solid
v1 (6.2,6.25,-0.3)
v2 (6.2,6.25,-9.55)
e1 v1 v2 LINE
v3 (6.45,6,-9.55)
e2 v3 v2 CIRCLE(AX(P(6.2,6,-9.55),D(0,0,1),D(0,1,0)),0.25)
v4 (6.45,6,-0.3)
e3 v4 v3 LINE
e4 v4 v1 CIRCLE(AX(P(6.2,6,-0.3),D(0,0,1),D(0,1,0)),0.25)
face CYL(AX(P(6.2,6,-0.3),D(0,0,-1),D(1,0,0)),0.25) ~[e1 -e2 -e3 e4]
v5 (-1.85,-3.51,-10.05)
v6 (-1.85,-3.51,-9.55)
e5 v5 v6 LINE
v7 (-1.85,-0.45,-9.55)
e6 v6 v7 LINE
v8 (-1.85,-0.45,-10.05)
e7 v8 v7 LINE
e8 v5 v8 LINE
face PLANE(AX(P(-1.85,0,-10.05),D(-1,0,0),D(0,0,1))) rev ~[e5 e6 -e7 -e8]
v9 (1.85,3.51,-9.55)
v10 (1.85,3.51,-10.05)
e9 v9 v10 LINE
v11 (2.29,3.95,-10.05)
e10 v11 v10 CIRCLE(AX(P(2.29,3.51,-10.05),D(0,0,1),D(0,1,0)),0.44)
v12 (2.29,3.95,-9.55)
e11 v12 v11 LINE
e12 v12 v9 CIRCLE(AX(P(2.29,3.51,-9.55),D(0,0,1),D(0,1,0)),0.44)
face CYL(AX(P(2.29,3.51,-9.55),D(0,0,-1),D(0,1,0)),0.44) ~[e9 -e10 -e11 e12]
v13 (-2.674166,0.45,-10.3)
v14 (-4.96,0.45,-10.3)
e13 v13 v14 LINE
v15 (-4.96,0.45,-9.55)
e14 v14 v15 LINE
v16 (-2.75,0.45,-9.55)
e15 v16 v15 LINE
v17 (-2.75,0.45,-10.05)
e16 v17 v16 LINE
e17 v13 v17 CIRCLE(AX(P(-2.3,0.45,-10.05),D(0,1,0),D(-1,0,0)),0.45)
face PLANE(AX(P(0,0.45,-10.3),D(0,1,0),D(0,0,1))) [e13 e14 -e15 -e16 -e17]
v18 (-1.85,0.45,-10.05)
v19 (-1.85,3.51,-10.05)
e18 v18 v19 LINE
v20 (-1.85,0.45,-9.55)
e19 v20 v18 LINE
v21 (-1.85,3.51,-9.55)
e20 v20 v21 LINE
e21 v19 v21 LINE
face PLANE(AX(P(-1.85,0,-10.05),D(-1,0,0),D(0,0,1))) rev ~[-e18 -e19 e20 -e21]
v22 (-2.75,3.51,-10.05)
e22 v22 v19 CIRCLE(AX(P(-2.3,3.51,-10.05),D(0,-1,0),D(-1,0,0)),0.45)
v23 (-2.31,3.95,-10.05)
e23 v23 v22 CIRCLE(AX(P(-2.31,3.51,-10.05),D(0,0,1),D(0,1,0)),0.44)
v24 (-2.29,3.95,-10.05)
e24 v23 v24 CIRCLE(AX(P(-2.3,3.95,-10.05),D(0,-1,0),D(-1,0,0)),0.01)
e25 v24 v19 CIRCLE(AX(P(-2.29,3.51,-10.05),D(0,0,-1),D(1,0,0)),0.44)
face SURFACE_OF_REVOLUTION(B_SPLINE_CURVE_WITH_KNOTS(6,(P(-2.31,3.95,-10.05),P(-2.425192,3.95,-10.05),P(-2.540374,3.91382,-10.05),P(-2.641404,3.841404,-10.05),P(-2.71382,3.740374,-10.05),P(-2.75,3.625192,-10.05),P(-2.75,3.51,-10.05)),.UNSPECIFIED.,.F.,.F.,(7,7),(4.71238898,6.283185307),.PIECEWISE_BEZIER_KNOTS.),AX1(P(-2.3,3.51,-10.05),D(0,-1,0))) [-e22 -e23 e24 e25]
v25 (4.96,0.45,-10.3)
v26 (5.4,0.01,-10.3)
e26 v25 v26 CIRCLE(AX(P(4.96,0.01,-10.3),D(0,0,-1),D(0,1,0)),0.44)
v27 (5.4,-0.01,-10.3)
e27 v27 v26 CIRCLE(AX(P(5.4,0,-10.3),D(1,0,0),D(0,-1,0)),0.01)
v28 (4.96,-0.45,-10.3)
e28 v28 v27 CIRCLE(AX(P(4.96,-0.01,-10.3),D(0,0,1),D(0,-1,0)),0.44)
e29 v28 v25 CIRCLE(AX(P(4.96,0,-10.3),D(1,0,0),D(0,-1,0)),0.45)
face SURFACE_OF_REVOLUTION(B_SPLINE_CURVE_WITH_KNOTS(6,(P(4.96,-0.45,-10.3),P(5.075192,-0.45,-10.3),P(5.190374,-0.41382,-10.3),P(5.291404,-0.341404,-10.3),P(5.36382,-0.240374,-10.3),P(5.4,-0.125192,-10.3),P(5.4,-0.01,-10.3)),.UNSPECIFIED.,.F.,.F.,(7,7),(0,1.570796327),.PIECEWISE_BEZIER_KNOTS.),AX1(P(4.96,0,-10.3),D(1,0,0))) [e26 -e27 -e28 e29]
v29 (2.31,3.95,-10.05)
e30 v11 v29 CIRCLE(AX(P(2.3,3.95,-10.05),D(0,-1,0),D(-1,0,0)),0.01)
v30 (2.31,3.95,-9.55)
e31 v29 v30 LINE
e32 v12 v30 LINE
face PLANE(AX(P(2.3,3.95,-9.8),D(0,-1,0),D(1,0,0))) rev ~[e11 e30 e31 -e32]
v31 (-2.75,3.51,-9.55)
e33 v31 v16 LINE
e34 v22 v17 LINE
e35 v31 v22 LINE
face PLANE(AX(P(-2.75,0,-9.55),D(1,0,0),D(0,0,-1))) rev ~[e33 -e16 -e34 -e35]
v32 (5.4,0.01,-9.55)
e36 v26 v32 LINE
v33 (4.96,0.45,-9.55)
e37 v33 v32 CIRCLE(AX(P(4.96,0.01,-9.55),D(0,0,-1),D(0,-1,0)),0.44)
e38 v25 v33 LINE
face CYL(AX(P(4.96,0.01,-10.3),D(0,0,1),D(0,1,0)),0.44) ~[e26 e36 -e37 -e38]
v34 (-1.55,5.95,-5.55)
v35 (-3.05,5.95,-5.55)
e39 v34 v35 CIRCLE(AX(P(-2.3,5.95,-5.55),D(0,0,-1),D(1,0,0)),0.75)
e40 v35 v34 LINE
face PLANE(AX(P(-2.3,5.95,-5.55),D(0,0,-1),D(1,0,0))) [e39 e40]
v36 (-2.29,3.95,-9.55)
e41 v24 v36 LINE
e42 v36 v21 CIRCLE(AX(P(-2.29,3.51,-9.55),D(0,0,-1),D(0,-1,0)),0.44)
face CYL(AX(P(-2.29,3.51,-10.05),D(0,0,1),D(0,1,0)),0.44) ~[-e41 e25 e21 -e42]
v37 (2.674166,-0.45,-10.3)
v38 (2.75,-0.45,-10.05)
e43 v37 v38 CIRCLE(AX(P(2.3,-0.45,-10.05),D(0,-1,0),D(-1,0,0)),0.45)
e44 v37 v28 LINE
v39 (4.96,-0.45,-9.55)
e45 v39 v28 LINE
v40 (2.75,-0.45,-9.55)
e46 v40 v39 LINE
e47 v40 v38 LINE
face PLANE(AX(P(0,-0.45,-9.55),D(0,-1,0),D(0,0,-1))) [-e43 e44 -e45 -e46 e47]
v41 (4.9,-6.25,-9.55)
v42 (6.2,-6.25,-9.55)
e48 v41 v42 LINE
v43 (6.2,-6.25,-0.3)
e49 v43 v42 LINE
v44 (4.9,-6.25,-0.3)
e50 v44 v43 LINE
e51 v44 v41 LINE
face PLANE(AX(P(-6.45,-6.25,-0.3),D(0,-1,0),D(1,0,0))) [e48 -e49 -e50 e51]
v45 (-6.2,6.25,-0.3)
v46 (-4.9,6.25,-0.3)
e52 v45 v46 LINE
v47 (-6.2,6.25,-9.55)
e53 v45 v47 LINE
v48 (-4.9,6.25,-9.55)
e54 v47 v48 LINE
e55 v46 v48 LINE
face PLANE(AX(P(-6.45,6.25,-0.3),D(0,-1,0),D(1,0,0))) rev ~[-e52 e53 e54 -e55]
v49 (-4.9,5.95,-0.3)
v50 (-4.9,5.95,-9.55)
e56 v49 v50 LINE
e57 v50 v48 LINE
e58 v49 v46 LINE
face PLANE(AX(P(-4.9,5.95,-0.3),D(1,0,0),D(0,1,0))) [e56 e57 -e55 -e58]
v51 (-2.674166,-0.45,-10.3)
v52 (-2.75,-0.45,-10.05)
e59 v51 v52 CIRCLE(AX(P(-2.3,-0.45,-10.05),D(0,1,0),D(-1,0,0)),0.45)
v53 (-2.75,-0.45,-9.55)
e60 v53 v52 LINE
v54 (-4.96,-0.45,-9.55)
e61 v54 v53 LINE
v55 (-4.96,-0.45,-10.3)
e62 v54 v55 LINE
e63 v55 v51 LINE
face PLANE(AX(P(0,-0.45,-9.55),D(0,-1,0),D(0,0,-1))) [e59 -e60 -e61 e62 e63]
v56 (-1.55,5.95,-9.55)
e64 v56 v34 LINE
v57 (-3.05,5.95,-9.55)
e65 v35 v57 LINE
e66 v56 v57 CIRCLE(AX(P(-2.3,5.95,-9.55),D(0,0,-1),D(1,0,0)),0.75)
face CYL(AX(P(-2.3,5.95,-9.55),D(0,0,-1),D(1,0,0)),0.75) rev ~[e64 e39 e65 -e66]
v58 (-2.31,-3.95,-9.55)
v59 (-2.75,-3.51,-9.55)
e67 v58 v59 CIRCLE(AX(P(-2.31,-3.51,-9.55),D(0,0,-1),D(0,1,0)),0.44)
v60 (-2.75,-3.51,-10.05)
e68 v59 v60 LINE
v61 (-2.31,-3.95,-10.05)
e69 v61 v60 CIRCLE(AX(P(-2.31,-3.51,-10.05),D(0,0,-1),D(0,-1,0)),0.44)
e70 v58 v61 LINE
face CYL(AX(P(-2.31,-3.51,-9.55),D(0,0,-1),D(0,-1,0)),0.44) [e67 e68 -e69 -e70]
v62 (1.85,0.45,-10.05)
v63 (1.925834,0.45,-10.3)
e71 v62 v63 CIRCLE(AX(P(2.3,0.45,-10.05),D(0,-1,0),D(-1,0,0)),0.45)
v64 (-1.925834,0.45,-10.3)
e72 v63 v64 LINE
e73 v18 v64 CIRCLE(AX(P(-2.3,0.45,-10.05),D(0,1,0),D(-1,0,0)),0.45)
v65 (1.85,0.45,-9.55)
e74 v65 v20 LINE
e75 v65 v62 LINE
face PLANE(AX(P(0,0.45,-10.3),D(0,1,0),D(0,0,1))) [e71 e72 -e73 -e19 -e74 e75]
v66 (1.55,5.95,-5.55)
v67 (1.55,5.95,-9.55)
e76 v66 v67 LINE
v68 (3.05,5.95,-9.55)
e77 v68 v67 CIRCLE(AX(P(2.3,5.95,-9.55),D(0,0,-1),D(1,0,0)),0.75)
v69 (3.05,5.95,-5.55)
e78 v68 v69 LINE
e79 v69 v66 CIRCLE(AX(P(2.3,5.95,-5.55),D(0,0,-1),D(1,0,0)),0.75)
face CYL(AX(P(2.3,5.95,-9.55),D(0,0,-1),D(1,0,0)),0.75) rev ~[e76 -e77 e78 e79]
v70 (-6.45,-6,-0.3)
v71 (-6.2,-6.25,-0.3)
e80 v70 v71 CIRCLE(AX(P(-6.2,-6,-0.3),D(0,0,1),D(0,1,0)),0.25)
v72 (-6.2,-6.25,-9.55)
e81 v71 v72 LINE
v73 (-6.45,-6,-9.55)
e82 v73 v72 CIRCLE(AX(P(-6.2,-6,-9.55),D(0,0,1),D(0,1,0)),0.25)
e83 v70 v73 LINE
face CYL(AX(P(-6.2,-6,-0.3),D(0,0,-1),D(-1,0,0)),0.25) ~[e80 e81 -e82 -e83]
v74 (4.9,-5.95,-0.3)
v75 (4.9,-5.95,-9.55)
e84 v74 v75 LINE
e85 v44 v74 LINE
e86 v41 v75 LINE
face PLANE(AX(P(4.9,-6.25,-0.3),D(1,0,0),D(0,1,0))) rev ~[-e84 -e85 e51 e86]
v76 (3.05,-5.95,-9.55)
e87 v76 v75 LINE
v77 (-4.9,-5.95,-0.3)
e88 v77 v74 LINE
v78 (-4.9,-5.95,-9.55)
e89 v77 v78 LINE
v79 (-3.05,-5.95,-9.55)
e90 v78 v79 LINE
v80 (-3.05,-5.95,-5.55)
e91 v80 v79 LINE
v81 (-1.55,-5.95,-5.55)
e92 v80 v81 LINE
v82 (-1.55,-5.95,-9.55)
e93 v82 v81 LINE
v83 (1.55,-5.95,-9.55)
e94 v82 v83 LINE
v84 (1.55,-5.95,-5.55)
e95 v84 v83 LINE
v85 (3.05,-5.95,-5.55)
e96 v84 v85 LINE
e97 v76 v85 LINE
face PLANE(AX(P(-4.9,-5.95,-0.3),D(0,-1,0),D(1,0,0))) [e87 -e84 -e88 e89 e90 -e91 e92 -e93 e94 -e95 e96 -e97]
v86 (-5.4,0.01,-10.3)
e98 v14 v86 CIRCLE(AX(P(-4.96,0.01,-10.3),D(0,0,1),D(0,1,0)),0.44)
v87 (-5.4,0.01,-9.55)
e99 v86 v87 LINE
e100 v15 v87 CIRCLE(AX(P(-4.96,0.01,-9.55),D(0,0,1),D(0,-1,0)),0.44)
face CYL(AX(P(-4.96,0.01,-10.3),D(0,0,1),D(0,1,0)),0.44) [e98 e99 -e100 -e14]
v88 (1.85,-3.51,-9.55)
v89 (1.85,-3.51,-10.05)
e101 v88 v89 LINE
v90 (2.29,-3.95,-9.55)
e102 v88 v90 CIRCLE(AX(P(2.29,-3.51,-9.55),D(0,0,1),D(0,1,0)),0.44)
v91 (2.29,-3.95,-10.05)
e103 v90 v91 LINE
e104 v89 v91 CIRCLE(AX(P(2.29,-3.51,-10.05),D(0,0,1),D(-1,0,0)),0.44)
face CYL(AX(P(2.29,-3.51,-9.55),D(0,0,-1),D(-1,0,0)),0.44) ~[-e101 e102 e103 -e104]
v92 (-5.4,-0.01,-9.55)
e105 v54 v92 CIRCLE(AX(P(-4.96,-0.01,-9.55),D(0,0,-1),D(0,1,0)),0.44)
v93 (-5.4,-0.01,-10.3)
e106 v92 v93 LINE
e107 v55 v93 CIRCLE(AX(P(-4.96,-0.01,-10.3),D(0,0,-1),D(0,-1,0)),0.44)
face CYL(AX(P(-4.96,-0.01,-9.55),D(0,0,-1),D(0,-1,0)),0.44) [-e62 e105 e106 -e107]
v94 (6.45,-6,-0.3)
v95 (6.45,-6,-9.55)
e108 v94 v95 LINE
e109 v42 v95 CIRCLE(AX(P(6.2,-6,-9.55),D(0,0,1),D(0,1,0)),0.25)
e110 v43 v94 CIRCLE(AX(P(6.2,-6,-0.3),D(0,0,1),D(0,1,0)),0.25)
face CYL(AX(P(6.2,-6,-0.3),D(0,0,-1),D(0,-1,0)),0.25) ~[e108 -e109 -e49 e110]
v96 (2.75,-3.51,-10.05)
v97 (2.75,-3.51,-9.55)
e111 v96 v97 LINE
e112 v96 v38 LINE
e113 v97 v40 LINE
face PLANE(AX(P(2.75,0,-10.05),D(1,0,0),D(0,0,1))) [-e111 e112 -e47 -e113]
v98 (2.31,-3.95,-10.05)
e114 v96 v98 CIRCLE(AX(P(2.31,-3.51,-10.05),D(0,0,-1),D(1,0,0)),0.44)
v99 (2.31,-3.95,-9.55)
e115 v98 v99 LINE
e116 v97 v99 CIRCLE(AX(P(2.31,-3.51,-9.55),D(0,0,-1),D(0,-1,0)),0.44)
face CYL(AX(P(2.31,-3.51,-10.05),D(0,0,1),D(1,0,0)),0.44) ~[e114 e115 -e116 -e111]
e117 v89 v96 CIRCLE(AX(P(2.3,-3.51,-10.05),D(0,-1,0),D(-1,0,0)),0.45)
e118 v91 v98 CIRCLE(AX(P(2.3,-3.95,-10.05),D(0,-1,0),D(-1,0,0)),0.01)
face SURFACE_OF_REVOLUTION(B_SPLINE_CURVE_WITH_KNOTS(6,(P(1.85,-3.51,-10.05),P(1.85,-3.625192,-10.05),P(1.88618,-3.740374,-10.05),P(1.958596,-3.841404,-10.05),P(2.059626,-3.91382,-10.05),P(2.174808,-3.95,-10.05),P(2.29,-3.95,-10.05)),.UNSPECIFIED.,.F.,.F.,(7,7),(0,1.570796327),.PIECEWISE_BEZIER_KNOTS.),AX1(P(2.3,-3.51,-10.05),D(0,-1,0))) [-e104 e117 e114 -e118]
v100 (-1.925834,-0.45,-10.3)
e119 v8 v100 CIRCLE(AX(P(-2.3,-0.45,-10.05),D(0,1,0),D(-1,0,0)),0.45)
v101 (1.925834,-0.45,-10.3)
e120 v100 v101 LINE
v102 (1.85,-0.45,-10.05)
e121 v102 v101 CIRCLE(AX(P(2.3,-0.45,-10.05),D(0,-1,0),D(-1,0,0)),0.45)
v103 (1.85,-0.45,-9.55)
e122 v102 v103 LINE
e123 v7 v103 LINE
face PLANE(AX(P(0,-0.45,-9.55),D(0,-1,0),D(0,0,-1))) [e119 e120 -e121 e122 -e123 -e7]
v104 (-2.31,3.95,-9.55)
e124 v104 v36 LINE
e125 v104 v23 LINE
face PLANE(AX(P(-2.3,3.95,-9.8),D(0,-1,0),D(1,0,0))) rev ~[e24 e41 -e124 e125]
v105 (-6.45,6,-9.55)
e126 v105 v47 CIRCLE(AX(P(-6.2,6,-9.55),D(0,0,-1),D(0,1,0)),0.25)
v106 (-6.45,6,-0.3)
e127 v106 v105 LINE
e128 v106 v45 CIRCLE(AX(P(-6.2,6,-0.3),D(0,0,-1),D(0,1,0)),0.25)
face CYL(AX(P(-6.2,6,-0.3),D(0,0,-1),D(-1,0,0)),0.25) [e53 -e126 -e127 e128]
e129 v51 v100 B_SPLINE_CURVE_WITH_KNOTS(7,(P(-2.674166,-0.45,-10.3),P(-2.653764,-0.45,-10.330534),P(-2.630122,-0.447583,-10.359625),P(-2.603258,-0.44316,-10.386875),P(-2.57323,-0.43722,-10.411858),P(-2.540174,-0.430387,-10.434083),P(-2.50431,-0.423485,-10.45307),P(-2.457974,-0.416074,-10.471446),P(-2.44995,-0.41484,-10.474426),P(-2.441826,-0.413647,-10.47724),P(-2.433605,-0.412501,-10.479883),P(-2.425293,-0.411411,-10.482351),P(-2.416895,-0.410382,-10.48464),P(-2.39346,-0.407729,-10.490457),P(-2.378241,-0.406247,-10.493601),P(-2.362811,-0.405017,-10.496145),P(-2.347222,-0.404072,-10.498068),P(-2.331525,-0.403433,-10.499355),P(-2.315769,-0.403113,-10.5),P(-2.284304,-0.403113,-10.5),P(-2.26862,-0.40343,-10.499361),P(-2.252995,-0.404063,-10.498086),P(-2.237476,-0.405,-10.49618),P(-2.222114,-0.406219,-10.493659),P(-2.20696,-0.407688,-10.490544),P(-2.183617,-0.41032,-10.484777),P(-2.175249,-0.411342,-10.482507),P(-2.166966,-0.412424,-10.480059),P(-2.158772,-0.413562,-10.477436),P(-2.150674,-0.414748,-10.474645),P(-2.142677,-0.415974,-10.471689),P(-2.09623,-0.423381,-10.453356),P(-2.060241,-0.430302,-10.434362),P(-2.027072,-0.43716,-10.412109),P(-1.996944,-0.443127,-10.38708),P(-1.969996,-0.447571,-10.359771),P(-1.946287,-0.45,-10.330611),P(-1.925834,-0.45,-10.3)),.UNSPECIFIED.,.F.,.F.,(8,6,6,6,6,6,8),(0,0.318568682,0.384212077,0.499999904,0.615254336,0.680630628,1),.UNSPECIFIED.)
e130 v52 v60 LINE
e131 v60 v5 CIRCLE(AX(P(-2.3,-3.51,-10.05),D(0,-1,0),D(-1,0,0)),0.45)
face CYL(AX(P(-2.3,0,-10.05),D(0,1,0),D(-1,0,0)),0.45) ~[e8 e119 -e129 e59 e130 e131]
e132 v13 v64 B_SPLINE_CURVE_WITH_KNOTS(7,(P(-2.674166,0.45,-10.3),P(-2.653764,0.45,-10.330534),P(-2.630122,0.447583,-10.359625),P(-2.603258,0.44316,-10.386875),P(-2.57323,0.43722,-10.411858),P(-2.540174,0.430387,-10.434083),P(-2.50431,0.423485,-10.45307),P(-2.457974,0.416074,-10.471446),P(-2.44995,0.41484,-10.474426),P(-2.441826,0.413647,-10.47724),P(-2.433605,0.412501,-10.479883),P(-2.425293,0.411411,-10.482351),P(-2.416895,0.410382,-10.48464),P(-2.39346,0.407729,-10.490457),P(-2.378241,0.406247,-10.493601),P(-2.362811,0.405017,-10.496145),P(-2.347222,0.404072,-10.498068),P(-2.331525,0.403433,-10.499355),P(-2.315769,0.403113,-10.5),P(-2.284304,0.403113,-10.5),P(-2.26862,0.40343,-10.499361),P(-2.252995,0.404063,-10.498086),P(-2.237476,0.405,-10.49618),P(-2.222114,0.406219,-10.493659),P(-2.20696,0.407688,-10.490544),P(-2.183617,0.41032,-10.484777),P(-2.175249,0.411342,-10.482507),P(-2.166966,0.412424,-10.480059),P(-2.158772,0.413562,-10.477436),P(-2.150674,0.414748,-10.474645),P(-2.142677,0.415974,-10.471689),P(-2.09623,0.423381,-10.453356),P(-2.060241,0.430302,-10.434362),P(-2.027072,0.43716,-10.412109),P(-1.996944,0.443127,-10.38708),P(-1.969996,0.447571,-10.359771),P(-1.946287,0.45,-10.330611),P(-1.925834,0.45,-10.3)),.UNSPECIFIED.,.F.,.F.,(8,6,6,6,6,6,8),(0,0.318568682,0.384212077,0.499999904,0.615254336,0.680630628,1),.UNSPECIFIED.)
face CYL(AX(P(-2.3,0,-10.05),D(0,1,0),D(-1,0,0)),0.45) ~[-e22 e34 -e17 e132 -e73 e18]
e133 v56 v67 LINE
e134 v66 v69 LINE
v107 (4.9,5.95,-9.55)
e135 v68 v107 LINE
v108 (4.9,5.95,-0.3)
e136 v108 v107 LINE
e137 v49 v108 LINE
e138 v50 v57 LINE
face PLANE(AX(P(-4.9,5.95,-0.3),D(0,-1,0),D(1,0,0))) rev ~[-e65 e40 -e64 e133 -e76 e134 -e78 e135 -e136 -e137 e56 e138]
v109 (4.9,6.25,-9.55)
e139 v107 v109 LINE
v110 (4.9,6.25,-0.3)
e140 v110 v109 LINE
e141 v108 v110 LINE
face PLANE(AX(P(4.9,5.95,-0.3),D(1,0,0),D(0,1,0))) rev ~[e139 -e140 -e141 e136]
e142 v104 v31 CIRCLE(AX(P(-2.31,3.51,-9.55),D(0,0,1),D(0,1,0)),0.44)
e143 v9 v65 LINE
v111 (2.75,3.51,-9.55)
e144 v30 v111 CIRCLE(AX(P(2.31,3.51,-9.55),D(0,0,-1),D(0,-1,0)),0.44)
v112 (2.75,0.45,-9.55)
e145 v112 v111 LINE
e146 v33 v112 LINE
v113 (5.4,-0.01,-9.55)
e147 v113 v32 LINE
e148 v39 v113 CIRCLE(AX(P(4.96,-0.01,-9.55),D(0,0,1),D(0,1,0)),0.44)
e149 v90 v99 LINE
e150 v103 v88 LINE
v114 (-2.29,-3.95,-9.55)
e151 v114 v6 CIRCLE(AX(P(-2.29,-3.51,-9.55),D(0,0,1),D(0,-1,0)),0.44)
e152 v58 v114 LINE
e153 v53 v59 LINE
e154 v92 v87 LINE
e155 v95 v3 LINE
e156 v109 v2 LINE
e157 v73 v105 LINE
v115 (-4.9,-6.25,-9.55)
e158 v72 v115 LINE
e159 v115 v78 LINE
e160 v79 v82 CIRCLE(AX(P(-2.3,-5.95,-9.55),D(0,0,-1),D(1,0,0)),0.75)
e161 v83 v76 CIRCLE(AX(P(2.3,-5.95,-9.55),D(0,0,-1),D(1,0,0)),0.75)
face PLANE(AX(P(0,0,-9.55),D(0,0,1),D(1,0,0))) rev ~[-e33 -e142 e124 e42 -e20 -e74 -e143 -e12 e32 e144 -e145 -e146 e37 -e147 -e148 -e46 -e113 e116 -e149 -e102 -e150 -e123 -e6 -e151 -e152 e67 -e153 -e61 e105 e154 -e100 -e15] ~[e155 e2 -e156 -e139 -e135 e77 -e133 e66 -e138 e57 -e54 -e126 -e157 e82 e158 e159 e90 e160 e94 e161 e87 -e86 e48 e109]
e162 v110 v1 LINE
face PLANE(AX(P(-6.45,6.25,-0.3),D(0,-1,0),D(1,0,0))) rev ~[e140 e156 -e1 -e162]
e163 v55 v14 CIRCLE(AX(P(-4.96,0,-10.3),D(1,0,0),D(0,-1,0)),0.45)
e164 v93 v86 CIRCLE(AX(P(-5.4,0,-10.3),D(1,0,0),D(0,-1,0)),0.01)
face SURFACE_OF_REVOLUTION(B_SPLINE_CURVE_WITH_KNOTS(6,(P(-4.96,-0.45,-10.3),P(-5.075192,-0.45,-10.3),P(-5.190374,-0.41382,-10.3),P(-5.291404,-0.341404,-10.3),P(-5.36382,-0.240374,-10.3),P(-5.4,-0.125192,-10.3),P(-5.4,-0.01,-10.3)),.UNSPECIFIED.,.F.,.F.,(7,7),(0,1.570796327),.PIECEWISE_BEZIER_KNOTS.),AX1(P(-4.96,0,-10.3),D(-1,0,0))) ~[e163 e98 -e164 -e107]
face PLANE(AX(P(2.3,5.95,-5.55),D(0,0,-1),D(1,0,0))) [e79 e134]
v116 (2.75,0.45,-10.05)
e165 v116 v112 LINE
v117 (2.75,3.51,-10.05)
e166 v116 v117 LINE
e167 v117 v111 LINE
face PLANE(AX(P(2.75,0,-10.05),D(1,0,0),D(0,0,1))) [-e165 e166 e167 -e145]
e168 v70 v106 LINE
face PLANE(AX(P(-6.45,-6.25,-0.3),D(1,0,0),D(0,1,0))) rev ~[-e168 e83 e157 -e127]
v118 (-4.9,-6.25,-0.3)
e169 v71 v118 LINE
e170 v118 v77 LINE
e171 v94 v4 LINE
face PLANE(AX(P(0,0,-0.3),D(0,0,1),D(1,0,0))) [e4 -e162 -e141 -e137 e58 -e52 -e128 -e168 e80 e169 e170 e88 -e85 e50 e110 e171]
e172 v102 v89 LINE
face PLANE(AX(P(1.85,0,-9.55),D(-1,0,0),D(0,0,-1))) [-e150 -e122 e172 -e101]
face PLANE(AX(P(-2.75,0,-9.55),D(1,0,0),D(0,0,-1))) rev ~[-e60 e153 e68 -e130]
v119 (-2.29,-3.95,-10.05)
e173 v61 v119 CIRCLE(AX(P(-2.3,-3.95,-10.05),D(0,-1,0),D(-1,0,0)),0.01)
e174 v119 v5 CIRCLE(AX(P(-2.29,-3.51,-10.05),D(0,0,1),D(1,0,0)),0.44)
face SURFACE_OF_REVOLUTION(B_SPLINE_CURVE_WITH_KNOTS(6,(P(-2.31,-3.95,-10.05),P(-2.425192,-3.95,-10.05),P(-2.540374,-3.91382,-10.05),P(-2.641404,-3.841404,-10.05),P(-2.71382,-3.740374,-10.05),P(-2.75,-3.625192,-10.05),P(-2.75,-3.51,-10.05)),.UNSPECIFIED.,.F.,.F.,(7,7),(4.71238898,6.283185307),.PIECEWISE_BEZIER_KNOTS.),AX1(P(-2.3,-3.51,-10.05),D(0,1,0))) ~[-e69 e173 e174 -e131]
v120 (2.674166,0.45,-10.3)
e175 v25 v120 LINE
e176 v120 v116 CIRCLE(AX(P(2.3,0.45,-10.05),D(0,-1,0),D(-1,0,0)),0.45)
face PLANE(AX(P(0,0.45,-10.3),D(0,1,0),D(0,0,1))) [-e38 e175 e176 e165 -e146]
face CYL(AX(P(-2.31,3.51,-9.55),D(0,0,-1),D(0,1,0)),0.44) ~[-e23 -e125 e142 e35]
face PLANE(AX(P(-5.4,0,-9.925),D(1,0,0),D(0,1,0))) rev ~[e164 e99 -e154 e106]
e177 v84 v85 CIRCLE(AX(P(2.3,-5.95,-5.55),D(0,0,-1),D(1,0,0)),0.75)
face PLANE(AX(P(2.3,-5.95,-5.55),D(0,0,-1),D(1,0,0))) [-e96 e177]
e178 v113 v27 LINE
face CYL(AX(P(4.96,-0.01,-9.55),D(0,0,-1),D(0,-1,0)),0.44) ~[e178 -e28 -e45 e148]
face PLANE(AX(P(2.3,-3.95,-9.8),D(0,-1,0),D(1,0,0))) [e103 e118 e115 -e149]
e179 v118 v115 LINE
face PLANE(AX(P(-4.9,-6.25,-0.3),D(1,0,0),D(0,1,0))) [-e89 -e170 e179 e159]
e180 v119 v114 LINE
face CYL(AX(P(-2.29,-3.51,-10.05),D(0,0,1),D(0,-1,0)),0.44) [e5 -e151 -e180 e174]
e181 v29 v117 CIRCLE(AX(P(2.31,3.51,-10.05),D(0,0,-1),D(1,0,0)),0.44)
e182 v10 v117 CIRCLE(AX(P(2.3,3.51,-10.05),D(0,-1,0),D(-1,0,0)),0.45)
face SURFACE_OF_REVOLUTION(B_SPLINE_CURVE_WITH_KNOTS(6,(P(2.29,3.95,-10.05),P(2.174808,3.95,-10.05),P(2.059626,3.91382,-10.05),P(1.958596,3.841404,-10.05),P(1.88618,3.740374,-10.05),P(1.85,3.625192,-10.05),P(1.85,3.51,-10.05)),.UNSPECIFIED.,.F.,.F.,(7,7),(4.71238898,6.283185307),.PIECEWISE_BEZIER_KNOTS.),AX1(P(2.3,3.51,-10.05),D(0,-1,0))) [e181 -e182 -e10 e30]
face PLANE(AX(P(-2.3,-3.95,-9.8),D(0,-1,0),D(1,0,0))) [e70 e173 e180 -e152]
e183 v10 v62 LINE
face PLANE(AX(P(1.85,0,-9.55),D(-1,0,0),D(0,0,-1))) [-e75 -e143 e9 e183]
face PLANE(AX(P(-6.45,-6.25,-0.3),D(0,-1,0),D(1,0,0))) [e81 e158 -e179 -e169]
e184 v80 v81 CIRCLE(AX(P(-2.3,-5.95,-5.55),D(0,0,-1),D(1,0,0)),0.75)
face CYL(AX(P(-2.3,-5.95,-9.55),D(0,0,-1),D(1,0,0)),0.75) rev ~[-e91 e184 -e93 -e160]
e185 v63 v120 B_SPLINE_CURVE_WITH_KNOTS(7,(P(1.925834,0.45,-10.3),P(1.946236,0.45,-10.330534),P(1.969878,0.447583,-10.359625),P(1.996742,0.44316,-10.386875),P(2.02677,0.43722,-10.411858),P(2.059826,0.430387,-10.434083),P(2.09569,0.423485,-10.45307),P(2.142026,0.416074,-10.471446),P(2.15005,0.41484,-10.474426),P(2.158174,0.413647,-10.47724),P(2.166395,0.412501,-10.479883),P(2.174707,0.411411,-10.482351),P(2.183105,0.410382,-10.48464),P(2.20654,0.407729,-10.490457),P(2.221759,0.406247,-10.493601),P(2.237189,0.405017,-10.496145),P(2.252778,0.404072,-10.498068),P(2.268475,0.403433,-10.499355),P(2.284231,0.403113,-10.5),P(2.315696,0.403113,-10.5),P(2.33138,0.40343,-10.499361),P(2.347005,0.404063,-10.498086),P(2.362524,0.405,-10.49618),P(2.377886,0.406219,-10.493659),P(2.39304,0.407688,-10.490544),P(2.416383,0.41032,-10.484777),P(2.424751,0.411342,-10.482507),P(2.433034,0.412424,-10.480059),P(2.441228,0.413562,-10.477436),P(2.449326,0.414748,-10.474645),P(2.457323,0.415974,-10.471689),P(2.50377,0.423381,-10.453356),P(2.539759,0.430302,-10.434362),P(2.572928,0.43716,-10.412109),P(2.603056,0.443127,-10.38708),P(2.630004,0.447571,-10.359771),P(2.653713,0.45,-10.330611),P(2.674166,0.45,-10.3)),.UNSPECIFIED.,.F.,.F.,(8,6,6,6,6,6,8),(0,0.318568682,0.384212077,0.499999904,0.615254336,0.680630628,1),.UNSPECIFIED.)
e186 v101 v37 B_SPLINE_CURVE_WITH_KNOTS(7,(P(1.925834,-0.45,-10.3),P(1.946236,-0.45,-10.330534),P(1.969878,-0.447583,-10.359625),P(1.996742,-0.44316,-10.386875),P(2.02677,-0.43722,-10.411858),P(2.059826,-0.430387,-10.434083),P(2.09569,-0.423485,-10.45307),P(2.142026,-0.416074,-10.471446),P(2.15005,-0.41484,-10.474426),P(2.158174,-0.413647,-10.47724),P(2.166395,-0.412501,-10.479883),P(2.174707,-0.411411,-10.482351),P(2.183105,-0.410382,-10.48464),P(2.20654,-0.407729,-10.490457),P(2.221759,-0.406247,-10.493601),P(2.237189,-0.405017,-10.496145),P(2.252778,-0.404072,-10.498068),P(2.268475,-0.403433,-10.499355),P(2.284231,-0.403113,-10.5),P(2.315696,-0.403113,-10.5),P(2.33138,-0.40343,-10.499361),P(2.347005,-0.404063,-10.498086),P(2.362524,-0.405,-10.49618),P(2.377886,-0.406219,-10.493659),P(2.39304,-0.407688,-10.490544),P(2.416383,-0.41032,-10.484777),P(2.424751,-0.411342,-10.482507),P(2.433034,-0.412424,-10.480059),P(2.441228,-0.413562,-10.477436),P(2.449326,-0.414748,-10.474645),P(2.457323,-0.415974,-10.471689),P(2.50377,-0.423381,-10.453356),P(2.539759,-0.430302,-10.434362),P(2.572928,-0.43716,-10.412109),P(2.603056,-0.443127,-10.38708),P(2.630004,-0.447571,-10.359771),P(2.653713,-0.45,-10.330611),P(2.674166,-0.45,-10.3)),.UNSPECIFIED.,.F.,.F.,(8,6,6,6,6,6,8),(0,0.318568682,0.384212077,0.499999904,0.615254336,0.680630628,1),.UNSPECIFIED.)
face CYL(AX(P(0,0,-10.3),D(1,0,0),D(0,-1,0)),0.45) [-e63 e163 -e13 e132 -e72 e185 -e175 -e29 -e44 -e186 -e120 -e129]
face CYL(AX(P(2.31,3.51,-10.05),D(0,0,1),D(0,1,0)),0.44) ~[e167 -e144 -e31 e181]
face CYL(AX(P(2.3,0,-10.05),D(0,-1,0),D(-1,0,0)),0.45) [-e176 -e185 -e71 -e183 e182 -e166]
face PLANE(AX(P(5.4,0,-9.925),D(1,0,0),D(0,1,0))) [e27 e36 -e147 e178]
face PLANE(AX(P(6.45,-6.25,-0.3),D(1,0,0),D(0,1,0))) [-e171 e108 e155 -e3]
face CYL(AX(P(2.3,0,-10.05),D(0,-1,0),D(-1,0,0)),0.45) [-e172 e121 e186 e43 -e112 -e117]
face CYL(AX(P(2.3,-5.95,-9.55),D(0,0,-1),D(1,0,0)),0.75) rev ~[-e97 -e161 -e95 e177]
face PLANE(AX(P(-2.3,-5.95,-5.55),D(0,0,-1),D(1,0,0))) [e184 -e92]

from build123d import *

# Parameters (mm, degrees)
SKETCH_W        = 12.9
SKETCH_H        = 12.5
PAD_DEPTH       = 9.25
FILLET_R        = 0.25
SKETCH001_W     = 9.8
SKETCH001_H     = 0.3
POCKET_DEPTH    = 9.251
SKETCH002_R     = 0.75
POCKET001_DEPTH = 4
PAD001_DEPTH    = 3.95
FILLET001_R     = 0.44
PAD002_DEPTH    = 5.4
FILLET002_R     = 0.44


with BuildPart() as part:
    # Sketch → Pad (new body)
    with BuildSketch(Plane.XY):
        Rectangle(SKETCH_W, SKETCH_H)
    extrude(amount=-PAD_DEPTH)

    # Fillet
    fillet_edges = [part.edges().sort_by_distance(p)[0] for p in [
        (6.45, -6.25, -4.625),
        (-6.45, -6.25, -4.625),
        (-6.45, 6.25, -4.625),
        (6.45, 6.25, -4.625),
    ]]
    fillet(fillet_edges, radius=FILLET_R)

    # Sketch001 (on Face2 of Fillet) → Pocket (cut, through all)
    with BuildSketch(Plane.XY):
        with Locations((0, -6.1)):
            Rectangle(SKETCH001_W, SKETCH001_H)
        with Locations((0, 6.1)):
            Rectangle(SKETCH001_W, SKETCH001_H)
    extrude(amount=-POCKET_DEPTH, mode=Mode.SUBTRACT)

    # Sketch002 (on Face4 of Pocket) → Pocket001 (cut)
    with BuildSketch(Plane(origin=(0, 0, -9.25), x_dir=(1, 0, 0), z_dir=(0, 0, -1))):
        with Locations((-2.3, 5.95)):
            Circle(SKETCH002_R)
        with Locations((2.3, 5.95)):
            Circle(SKETCH002_R)
        with Locations((-2.3, -5.95)):
            Circle(SKETCH002_R)
        with Locations((2.3, -5.95)):
            Circle(SKETCH002_R)
    extrude(amount=-POCKET001_DEPTH, mode=Mode.SUBTRACT)

    # Sketch003 → Pad001 (join, symmetric)
    with BuildSketch(Plane.XZ):
        with BuildLine():
            ThreePointArc((-1.85, -9.25), (-2.3, -8.8), (-2.75, -9.25))
            Line((-2.75, -9.25), (-2.75, -9.75))
            ThreePointArc((-2.75, -9.75), (-2.3, -10.2), (-1.85, -9.75))
            Line((-1.85, -9.75), (-1.85, -9.25))
        make_face()
        with BuildLine():
            ThreePointArc((2.75, -9.25), (2.3, -8.8), (1.85, -9.25))
            Line((1.85, -9.25), (1.85, -9.75))
            ThreePointArc((1.85, -9.75), (2.3, -10.2), (2.75, -9.75))
            Line((2.75, -9.75), (2.75, -9.25))
        make_face()
    extrude(amount=PAD001_DEPTH, both=True)

    # Fillet001
    fillet001_edges = [part.edges().sort_by_distance(p)[0] for p in [
        (-2.3, 3.95, -10.2),
        (2.3, 3.95, -10.2),
        (2.3, -3.95, -10.2),
        (-2.3, -3.95, -10.2),
    ]]
    fillet(fillet001_edges, radius=FILLET001_R)

    # Sketch004 → Pad002 (join, symmetric)
    with BuildSketch(Plane.YZ):
        with BuildLine():
            ThreePointArc((0.45, -9.25), (0, -8.8), (-0.45, -9.25))
            Line((-0.45, -9.25), (-0.45, -10))
            ThreePointArc((-0.45, -10), (0, -10.45), (0.45, -10))
            Line((0.45, -10), (0.45, -9.25))
        make_face()
    extrude(amount=PAD002_DEPTH, both=True)

    # Fillet002
    fillet002_edges = [part.edges().sort_by_distance(p)[0] for p in [
        (-5.4, 0, -10.45),
        (5.4, 0, -10.45),
    ]]
    fillet(fillet002_edges, radius=FILLET002_R)


with BuildPart() as part_1:
    # Body placement: moved
    add(part.part.moved(Location((0, 0, -0.3))))


solid = part_1.part
